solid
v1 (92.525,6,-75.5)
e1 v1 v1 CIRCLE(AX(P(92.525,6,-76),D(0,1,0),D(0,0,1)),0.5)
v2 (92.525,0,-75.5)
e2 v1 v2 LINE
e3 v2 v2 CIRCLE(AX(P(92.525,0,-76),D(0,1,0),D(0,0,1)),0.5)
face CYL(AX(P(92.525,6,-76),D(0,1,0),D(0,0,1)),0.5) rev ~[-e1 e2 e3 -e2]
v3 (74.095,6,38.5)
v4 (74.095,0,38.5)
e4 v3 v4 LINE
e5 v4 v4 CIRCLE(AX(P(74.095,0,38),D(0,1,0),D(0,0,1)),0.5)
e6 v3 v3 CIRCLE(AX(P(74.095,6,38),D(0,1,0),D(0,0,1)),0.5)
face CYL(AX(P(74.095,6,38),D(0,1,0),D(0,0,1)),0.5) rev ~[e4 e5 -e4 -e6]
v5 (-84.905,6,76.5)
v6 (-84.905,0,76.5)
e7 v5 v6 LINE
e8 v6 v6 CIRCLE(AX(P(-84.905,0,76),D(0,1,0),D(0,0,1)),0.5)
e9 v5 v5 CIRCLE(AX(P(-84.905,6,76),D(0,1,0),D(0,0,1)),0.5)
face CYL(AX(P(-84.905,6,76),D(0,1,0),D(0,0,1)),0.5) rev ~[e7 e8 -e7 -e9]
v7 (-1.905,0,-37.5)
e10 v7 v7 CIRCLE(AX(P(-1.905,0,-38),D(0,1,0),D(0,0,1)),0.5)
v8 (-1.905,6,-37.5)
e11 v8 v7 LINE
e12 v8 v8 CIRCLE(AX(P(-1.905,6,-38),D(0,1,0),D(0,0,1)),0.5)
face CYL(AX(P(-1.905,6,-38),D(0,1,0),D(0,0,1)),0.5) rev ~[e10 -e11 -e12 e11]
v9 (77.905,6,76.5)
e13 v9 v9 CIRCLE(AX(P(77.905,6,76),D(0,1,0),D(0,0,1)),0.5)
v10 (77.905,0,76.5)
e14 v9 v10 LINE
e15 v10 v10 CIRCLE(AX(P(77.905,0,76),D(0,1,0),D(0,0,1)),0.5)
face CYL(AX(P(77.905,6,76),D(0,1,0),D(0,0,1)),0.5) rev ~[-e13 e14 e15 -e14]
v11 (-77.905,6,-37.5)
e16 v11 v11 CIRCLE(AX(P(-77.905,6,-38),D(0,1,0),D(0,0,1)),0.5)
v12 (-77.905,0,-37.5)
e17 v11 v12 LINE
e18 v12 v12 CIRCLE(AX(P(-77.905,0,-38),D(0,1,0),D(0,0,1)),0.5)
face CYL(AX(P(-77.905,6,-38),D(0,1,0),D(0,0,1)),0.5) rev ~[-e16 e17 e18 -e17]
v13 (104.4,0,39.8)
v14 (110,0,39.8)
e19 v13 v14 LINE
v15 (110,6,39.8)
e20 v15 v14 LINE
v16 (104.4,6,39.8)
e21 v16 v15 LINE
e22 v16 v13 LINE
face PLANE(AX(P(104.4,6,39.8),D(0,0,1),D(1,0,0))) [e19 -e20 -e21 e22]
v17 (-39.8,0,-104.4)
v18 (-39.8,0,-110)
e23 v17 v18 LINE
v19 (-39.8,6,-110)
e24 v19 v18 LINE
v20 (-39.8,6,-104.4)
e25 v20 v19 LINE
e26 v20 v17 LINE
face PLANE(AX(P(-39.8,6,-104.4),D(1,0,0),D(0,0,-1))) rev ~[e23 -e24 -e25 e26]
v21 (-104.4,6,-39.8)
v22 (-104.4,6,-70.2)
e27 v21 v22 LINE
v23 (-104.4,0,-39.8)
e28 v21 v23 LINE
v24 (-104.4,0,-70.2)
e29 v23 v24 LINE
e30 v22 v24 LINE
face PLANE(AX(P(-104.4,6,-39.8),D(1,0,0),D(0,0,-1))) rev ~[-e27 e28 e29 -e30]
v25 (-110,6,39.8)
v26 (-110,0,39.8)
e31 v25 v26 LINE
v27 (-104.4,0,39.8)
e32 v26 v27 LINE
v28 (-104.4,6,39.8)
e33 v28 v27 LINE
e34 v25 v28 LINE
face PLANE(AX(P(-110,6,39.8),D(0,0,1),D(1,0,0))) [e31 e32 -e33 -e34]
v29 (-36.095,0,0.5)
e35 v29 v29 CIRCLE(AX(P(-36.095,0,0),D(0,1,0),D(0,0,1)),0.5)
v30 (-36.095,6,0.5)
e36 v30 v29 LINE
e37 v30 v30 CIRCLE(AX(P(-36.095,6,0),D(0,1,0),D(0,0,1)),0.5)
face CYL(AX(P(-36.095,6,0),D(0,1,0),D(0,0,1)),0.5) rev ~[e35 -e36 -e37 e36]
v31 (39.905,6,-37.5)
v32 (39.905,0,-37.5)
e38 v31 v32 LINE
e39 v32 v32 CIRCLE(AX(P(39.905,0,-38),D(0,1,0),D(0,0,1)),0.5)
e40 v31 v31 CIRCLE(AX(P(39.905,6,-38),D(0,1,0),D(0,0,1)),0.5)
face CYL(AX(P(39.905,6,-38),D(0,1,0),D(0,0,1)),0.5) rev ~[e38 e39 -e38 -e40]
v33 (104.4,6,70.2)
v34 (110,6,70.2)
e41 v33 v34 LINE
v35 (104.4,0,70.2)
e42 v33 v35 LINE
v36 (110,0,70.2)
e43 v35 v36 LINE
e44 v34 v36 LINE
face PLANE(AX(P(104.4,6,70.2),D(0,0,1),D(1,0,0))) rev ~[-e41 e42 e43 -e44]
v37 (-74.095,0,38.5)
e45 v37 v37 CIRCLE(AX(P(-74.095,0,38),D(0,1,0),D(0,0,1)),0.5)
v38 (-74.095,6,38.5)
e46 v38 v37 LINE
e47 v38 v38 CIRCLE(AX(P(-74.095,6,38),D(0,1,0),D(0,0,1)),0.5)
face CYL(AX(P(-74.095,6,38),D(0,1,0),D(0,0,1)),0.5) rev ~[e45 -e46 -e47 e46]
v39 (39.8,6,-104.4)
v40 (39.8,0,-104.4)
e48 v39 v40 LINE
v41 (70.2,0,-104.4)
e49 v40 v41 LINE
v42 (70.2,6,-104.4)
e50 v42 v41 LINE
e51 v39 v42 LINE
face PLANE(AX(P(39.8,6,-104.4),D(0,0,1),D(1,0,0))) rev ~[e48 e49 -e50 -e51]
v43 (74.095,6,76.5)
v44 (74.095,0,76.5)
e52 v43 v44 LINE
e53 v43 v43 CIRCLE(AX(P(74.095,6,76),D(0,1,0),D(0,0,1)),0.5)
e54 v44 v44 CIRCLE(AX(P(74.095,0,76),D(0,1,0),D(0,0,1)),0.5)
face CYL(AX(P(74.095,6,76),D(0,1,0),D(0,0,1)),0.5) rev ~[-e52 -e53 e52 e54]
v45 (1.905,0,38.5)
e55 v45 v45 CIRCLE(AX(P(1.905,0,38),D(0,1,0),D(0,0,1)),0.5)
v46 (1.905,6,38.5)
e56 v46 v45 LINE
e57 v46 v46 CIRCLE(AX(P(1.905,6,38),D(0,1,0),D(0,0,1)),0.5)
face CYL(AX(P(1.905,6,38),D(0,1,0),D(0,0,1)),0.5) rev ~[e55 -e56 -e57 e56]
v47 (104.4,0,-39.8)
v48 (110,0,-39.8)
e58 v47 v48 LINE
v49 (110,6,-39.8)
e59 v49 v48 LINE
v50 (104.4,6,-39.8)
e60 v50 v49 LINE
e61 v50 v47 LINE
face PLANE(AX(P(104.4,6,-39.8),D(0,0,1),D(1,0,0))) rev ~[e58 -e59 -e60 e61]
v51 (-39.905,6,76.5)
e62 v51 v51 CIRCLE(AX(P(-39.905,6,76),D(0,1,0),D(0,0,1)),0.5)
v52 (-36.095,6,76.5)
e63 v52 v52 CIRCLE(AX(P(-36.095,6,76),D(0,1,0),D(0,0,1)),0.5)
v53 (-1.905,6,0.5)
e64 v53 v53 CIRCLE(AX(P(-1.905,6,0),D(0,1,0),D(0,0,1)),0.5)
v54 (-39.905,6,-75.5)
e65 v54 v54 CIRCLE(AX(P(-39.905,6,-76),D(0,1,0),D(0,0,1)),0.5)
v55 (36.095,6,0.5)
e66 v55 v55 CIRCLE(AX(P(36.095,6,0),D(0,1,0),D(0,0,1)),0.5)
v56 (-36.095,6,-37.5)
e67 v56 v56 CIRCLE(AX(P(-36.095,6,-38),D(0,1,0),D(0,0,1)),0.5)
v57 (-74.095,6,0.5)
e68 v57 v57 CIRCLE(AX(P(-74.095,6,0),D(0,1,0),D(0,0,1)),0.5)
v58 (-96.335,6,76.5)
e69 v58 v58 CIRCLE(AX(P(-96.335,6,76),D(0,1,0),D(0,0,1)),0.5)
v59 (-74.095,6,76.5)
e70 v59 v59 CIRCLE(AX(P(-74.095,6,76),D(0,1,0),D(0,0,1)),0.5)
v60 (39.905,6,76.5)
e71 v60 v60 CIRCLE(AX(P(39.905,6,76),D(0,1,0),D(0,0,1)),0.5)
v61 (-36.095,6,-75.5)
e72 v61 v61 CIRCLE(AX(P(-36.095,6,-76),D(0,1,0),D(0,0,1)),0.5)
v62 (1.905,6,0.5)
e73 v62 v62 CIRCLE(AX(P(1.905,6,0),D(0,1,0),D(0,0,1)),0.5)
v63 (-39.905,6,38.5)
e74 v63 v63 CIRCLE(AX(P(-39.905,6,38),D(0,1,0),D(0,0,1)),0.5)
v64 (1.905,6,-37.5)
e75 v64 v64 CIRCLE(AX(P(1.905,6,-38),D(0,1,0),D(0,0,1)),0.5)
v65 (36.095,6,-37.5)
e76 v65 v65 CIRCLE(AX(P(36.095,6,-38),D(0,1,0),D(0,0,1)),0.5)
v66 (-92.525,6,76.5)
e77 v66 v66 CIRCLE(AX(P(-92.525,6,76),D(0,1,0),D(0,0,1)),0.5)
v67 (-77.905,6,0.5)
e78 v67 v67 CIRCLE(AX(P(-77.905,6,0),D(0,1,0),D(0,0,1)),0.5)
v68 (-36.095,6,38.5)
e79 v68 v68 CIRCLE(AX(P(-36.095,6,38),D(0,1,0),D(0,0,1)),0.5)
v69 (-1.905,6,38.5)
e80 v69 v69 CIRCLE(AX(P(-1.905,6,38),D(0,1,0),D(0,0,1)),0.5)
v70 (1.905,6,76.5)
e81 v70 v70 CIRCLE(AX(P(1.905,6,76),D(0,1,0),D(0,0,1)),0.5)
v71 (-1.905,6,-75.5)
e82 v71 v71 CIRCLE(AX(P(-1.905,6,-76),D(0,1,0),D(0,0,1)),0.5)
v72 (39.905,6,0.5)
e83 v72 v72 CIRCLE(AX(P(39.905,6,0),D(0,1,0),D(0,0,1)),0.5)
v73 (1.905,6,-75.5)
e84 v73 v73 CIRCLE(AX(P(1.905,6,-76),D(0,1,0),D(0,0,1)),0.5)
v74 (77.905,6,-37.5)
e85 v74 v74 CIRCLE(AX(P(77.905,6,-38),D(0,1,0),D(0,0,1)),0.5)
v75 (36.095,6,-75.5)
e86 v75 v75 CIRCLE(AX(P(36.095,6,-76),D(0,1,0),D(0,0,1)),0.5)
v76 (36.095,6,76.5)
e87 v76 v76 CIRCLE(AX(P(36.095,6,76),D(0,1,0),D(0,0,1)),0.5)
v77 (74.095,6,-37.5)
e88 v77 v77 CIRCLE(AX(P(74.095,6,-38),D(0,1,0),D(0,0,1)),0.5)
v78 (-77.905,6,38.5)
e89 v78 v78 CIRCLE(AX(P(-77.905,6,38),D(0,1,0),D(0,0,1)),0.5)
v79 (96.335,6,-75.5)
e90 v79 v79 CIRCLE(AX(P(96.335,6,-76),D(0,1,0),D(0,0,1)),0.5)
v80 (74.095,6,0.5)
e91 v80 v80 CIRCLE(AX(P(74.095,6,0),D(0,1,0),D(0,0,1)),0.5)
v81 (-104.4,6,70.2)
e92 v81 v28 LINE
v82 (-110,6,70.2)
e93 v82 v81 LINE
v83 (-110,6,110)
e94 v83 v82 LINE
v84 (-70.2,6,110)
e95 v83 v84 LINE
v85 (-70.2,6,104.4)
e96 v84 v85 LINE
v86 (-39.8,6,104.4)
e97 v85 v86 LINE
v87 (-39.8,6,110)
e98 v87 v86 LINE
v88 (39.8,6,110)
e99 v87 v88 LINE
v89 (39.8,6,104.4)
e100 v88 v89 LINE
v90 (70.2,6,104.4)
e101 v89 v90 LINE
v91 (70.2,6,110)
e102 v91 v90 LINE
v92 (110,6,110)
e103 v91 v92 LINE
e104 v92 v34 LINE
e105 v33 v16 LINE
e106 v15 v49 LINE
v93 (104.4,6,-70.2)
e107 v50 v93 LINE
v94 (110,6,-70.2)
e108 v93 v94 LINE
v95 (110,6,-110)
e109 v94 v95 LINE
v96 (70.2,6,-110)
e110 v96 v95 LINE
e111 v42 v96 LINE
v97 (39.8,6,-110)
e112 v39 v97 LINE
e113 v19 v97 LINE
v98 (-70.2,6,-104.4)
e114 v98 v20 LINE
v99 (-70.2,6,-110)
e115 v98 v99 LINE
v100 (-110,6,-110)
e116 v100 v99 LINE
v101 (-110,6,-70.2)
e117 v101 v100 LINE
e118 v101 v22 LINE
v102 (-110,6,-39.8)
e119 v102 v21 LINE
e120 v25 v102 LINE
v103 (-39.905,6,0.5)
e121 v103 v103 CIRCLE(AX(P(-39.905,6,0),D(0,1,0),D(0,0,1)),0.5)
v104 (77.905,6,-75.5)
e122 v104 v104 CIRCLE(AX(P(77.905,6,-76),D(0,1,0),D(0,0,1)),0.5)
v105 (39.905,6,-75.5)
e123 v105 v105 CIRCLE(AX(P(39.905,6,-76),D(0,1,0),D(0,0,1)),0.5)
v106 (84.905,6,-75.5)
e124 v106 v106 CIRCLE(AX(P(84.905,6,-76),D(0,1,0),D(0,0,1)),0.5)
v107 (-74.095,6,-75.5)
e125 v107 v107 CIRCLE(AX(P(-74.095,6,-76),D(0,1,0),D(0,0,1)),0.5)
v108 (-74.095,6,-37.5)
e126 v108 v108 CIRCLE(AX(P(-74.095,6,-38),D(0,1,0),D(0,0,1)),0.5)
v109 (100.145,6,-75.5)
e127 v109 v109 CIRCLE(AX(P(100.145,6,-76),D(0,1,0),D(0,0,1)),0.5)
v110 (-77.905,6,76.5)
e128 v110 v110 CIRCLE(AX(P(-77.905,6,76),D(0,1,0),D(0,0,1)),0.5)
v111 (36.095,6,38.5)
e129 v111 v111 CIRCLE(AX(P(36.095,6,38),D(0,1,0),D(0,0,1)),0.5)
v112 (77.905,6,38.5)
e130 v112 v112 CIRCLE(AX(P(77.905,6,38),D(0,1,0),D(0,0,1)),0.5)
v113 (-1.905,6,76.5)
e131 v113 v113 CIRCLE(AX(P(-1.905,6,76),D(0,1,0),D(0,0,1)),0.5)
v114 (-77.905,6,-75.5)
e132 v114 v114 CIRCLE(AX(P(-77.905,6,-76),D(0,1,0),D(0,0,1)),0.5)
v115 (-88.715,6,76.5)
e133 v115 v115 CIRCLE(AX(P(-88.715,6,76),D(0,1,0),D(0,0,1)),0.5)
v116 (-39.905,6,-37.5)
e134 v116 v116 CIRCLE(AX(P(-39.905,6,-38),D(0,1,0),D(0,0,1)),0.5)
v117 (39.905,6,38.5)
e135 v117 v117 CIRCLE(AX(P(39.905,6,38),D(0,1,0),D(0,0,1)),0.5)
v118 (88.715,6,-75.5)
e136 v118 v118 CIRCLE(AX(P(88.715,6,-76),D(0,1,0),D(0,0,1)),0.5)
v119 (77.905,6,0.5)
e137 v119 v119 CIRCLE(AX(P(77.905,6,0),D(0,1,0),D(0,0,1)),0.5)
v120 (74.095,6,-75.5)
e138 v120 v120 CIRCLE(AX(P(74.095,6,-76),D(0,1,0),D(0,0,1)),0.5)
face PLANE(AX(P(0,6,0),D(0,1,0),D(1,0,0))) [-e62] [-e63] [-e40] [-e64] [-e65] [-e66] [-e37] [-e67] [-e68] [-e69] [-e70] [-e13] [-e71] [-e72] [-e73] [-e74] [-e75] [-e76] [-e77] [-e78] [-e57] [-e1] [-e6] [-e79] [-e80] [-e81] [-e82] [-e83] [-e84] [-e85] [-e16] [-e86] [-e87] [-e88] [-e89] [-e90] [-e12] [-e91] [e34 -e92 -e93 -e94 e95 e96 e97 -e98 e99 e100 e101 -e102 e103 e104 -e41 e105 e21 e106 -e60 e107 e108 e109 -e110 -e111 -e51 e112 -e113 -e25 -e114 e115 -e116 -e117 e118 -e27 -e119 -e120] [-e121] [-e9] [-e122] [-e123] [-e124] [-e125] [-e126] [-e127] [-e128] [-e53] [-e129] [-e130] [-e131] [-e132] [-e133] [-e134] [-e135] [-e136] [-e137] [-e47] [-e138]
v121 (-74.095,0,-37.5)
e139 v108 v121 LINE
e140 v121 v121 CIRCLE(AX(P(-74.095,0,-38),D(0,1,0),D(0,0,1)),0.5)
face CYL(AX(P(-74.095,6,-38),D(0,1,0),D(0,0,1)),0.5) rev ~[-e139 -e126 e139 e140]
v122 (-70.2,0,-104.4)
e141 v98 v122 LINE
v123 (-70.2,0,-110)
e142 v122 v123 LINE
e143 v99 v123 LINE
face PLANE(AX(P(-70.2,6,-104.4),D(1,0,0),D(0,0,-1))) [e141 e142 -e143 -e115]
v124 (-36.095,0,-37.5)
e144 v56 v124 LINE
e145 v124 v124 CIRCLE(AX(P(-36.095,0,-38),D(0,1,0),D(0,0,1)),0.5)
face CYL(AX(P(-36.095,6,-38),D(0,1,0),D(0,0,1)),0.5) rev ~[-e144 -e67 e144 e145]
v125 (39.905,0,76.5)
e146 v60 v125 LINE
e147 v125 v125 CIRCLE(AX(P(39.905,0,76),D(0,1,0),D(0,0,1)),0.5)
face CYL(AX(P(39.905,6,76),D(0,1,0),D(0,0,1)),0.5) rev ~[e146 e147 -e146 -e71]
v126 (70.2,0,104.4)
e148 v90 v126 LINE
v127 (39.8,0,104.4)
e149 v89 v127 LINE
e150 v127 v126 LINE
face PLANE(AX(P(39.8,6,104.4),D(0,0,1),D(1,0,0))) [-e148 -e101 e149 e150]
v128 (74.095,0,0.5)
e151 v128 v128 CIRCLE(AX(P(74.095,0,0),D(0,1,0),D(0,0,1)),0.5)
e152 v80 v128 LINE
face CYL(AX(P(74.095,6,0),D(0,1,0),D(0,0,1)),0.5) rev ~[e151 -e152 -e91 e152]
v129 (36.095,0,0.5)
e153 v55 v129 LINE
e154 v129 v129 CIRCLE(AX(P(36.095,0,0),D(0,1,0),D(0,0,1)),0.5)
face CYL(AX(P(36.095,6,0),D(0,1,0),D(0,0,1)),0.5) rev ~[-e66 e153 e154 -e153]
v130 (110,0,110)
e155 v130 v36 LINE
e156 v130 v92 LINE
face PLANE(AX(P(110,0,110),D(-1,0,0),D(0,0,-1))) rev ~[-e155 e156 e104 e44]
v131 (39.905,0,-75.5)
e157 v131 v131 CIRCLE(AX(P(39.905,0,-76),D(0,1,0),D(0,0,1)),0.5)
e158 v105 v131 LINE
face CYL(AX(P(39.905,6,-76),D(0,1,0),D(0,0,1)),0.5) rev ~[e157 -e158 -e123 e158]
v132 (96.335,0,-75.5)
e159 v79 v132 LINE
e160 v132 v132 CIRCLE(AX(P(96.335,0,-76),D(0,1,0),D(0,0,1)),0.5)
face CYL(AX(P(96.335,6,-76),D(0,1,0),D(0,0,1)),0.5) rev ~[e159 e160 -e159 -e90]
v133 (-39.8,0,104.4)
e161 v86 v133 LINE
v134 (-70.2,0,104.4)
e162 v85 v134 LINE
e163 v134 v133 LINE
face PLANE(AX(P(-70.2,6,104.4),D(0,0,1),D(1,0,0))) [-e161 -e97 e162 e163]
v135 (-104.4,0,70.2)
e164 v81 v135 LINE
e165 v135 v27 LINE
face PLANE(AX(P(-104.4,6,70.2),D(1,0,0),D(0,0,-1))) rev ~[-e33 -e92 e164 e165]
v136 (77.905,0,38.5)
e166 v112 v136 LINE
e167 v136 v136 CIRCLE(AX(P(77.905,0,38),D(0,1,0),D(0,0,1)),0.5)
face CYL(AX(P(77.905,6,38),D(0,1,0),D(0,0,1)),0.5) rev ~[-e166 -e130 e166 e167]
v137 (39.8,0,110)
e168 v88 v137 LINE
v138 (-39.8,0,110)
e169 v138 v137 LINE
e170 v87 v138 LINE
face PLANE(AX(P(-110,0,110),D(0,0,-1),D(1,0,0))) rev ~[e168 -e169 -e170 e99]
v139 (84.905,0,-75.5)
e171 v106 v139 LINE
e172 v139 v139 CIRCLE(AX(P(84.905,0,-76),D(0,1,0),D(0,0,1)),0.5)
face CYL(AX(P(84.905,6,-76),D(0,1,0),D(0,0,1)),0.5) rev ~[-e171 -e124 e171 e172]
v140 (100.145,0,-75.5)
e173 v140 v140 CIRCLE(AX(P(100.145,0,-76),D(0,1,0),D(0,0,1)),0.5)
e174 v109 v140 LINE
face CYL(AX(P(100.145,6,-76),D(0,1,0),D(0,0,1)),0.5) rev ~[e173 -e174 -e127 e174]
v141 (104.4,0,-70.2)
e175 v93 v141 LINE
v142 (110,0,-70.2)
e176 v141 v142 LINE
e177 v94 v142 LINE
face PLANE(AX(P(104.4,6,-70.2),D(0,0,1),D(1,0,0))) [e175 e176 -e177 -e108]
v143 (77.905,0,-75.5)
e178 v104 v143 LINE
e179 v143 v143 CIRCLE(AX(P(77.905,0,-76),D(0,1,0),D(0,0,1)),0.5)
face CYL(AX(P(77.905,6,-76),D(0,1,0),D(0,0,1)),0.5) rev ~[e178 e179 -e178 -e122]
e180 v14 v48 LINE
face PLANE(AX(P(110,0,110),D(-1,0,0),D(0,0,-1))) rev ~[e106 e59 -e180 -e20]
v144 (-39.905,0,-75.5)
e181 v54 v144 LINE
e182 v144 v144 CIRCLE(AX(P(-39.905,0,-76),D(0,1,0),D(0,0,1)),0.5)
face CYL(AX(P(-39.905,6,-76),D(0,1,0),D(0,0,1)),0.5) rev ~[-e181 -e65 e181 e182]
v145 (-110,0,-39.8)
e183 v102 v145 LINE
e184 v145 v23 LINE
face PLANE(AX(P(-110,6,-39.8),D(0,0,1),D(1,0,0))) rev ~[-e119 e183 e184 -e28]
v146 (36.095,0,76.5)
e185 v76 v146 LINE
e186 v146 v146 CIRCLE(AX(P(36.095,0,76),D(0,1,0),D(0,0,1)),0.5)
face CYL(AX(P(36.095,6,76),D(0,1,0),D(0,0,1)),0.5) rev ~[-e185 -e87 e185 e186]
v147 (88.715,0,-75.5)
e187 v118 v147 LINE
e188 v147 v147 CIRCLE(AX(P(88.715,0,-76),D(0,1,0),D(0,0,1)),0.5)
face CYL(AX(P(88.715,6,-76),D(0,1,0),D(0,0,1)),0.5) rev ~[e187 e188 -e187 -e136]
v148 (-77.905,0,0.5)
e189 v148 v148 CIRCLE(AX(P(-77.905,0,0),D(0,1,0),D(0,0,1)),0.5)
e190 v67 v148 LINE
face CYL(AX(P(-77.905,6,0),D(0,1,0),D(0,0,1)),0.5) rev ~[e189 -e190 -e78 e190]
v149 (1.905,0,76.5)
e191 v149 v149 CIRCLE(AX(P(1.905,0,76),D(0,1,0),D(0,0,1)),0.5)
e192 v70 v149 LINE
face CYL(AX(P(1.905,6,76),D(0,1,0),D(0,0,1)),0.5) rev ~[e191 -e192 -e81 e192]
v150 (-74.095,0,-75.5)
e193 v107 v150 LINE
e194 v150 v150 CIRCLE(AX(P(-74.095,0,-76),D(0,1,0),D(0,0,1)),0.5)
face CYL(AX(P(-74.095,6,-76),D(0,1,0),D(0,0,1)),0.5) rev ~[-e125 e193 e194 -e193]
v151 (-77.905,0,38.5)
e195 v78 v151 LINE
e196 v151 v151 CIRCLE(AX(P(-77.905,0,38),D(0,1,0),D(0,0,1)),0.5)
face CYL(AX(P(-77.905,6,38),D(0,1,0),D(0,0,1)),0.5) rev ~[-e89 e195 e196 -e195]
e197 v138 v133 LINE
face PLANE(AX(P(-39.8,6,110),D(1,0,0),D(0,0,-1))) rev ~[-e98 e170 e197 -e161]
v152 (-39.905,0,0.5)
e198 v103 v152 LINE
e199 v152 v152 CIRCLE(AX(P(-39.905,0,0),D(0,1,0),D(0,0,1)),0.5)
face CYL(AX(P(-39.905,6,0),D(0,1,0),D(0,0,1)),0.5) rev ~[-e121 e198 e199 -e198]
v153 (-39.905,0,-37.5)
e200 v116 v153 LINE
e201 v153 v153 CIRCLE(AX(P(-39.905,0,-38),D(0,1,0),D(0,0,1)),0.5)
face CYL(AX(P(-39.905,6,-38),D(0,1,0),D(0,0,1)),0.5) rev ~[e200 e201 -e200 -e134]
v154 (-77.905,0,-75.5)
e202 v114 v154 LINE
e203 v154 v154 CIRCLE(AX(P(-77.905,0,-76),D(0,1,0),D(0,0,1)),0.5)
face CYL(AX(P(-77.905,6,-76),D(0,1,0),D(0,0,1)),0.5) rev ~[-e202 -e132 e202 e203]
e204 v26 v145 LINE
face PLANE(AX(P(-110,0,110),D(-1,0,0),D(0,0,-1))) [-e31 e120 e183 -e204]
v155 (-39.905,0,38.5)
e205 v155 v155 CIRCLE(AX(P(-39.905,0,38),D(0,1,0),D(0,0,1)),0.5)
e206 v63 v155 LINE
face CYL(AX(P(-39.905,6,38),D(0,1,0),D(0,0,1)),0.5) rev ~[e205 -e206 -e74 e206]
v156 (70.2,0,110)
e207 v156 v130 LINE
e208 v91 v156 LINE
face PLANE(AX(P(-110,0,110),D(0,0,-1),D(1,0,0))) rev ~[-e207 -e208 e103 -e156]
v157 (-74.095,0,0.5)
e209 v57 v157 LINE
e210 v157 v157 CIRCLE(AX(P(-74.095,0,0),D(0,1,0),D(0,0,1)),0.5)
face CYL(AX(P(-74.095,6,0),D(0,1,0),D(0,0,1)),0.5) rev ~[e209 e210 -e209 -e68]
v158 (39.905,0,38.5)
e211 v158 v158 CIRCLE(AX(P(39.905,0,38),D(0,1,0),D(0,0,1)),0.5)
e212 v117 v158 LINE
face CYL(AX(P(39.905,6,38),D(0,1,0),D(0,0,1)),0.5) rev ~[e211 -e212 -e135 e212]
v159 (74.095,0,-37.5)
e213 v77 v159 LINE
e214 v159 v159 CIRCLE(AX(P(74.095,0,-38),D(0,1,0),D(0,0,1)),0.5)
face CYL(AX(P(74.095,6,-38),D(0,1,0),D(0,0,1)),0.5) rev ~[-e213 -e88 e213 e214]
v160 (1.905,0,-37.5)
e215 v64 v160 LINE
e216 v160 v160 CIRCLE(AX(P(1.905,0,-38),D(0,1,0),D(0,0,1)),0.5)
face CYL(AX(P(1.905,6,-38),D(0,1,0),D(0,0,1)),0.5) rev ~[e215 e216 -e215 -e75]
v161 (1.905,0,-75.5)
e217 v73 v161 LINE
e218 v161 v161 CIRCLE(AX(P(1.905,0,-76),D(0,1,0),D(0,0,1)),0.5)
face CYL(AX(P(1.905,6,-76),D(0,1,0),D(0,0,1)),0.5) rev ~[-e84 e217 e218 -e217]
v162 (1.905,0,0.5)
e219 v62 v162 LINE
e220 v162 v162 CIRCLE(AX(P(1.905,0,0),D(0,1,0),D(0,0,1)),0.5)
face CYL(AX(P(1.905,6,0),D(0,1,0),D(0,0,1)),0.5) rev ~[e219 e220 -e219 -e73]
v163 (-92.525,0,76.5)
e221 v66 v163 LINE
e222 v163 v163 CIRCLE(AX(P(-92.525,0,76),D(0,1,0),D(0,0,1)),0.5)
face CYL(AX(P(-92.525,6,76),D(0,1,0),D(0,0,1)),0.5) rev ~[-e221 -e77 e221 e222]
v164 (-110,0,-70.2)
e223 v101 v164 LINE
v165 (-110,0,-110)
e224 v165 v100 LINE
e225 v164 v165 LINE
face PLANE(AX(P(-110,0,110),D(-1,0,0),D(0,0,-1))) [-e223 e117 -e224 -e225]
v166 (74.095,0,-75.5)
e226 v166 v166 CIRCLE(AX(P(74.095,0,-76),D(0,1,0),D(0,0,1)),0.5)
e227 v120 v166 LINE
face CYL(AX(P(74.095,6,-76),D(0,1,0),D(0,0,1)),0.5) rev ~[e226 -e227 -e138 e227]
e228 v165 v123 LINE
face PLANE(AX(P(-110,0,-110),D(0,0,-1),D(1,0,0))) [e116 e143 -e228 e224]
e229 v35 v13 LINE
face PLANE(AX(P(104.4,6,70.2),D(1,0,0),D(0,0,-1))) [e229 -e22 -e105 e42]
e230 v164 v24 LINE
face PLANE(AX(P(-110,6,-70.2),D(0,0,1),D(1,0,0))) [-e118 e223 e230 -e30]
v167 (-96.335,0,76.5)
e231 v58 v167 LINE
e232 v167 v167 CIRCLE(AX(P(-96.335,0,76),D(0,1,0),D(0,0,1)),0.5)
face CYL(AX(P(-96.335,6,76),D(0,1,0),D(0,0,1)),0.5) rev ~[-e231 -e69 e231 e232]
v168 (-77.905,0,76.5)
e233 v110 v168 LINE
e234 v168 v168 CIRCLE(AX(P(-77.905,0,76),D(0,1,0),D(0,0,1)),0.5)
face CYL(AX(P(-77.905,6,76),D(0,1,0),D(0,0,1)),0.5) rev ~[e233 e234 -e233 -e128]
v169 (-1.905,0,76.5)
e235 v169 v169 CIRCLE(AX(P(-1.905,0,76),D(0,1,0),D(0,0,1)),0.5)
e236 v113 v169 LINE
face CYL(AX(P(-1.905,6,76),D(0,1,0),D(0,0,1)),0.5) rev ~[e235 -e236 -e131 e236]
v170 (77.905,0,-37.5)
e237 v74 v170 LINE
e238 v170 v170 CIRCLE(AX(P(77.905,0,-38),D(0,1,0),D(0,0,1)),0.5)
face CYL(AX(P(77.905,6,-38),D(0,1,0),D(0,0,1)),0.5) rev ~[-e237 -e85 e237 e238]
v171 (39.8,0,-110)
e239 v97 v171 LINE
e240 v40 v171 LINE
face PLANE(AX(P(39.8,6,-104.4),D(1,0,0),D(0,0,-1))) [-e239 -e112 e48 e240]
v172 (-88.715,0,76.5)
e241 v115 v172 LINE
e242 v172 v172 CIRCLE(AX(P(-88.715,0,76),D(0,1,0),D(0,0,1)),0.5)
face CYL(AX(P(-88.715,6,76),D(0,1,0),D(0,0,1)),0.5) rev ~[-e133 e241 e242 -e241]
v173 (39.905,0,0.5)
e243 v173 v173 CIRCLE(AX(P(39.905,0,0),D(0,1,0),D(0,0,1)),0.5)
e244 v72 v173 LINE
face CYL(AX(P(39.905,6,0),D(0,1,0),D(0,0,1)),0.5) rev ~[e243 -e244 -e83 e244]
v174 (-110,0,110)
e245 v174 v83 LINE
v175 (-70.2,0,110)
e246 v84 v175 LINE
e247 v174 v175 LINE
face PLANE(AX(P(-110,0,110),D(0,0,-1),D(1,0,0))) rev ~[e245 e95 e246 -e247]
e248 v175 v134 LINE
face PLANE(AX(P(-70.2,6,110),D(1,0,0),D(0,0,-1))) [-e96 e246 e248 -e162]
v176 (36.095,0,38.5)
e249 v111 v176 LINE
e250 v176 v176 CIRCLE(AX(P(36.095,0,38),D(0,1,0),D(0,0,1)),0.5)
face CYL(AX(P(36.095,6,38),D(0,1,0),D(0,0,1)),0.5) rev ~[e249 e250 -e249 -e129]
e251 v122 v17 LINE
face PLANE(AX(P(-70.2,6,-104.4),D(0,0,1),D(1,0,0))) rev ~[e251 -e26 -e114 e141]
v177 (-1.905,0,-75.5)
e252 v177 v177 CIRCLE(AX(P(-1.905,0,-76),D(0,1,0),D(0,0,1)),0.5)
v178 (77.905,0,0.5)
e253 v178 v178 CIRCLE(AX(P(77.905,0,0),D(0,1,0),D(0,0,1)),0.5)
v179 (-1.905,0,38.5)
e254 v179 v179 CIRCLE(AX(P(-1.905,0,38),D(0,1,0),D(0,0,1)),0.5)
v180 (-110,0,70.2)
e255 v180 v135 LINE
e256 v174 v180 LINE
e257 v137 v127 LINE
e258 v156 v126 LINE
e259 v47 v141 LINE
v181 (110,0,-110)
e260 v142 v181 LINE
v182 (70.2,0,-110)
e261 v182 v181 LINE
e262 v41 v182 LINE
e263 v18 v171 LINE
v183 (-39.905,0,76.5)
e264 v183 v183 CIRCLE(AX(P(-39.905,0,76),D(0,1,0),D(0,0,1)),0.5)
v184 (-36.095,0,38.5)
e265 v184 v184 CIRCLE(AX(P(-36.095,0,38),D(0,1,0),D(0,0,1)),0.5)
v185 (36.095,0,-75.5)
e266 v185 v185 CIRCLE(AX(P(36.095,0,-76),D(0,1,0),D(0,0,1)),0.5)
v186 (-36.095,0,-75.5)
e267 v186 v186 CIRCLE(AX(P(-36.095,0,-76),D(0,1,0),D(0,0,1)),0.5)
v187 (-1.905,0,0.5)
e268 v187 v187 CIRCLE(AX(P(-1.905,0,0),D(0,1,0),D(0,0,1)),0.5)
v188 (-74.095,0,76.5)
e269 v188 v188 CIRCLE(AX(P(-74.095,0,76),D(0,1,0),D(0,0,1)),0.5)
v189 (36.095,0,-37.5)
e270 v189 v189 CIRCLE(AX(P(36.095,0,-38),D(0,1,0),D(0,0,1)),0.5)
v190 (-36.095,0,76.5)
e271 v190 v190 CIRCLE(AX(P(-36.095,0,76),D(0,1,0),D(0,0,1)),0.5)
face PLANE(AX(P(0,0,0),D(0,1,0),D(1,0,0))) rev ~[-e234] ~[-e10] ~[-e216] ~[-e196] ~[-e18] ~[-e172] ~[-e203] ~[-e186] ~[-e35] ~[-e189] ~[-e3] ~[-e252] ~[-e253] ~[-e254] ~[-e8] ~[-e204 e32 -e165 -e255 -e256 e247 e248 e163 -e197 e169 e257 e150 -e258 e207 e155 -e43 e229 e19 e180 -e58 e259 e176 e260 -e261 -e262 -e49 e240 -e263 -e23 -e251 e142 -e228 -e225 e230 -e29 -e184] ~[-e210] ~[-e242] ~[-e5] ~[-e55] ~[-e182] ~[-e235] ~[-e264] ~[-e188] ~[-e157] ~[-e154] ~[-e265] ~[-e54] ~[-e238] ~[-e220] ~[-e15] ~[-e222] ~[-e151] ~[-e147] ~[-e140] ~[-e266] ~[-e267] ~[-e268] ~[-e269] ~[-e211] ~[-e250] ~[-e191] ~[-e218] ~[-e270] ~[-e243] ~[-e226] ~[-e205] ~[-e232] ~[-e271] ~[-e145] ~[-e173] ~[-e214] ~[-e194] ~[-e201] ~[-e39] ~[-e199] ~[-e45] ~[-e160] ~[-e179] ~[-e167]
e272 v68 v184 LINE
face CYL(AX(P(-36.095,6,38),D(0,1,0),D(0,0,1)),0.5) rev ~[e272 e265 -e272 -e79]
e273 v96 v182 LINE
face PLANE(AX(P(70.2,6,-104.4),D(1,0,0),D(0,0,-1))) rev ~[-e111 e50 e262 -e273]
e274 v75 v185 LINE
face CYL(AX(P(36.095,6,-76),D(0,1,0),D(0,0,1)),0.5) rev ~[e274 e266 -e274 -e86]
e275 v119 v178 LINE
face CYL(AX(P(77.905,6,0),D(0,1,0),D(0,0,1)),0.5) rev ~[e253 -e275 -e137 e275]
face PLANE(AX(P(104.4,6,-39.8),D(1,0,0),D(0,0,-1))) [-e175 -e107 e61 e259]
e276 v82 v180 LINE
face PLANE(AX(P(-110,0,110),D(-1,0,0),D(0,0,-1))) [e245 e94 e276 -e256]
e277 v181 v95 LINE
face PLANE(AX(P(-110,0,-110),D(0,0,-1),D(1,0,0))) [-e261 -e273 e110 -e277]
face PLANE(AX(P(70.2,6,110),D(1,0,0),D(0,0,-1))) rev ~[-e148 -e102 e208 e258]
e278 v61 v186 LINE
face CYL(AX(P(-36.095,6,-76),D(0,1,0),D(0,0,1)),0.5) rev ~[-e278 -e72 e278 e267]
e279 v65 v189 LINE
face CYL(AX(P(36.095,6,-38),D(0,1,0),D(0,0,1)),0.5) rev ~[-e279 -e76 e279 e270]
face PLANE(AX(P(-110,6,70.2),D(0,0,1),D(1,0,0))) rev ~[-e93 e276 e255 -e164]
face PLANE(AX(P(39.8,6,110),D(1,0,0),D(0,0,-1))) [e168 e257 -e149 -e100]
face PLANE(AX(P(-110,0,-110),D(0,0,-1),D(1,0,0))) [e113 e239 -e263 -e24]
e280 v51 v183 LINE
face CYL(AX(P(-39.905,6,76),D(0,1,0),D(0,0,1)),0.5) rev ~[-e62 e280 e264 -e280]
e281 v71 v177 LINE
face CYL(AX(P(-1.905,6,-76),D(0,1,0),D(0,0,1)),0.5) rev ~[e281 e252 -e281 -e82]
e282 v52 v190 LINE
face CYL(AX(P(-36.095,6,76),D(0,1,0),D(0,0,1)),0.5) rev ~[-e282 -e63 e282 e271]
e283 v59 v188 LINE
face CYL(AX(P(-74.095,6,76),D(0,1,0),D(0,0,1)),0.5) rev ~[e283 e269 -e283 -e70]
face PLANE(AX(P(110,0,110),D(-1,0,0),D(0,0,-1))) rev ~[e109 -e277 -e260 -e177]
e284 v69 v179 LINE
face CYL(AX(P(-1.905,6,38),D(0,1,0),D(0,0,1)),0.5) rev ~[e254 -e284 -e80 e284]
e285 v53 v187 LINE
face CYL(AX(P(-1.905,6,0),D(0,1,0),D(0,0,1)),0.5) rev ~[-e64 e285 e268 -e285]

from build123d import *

# Parameters (mm, degrees)
SKETCH2_W           = 220
SKETCH2_H           = 220
BOSS_EXTRUDE1_DEPTH = 6
SKETCH3_R           = 0.5
CUT_EXTRUDE1_DEPTH  = 156.679157243
SKETCH4_R           = 0.5
CUT_EXTRUDE2_DEPTH  = 156.679157243
SKETCH5_W           = 30.4
SKETCH5_H           = 5.6
SKETCH5_W_2         = 5.6
SKETCH5_H_2         = 30.4
CUT_EXTRUDE3_DEPTH  = 156.679157243


with BuildPart() as part:
    # Sketch2 → Boss-Extrude1 (new body)
    with BuildSketch(Plane(origin=(0, 0, 0), x_dir=(1, 0, 0), z_dir=(0, 1, 0))):
        Rectangle(SKETCH2_W, SKETCH2_H)
    extrude(amount=BOSS_EXTRUDE1_DEPTH)

    # Sketch3 → Cut-Extrude1 (cut, through all)
    with BuildSketch(Plane(origin=(0, 6, 0), x_dir=(1, 0, 0), z_dir=(0, 1, 0))):
        with Locations(Location((-77.905, -76, 0), (0, 0, 270))):
            Circle(SKETCH3_R)
        with Locations(Location((-74.095, -76, 0), (0, 0, 270))):
            Circle(SKETCH3_R)
        with Locations(Location((-39.905, -76, 0), (0, 0, 270))):
            Circle(SKETCH3_R)
        with Locations(Location((-36.095, -76, 0), (0, 0, 270))):
            Circle(SKETCH3_R)
        with Locations(Location((-1.905, -76, 0), (0, 0, 270))):
            Circle(SKETCH3_R)
        with Locations(Location((1.905, -76, 0), (0, 0, 270))):
            Circle(SKETCH3_R)
        with Locations(Location((36.095, -76, 0), (0, 0, 270))):
            Circle(SKETCH3_R)
        with Locations(Location((39.905, -76, 0), (0, 0, 270))):
            Circle(SKETCH3_R)
        with Locations(Location((74.095, -76, 0), (0, 0, 270))):
            Circle(SKETCH3_R)
        with Locations(Location((77.905, -76, 0), (0, 0, 270))):
            Circle(SKETCH3_R)
        with Locations(Location((-39.905, -38, 0), (0, 0, 270))):
            Circle(SKETCH3_R)
        with Locations(Location((-36.095, -38, 0), (0, 0, 270))):
            Circle(SKETCH3_R)
        with Locations(Location((-1.905, -38, 0), (0, 0, 270))):
            Circle(SKETCH3_R)
        with Locations(Location((1.905, -38, 0), (0, 0, 270))):
            Circle(SKETCH3_R)
        with Locations(Location((36.095, -38, 0), (0, 0, 270))):
            Circle(SKETCH3_R)
        with Locations(Location((39.905, -38, 0), (0, 0, 270))):
            Circle(SKETCH3_R)
        with Locations(Location((74.095, -38, 0), (0, 0, 270))):
            Circle(SKETCH3_R)
        with Locations(Location((77.905, -38, 0), (0, 0, 270))):
            Circle(SKETCH3_R)
        with Locations(Location((-39.905, 0, 0), (0, 0, 270))):
            Circle(SKETCH3_R)
        with Locations(Location((-36.095, 0, 0), (0, 0, 270))):
            Circle(SKETCH3_R)
        with Locations(Location((-1.905, 0, 0), (0, 0, 270))):
            Circle(SKETCH3_R)
        with Locations(Location((1.905, 0, 0), (0, 0, 270))):
            Circle(SKETCH3_R)
        with Locations(Location((36.095, 0, 0), (0, 0, 270))):
            Circle(SKETCH3_R)
        with Locations(Location((39.905, 0, 0), (0, 0, 270))):
            Circle(SKETCH3_R)
        with Locations(Location((74.095, 0, 0), (0, 0, 270))):
            Circle(SKETCH3_R)
        with Locations(Location((77.905, 0, 0), (0, 0, 270))):
            Circle(SKETCH3_R)
        with Locations(Location((-39.905, 38, 0), (0, 0, 270))):
            Circle(SKETCH3_R)
        with Locations(Location((-36.095, 38, 0), (0, 0, 270))):
            Circle(SKETCH3_R)
        with Locations(Location((-1.905, 38, 0), (0, 0, 270))):
            Circle(SKETCH3_R)
        with Locations(Location((1.905, 38, 0), (0, 0, 270))):
            Circle(SKETCH3_R)
        with Locations(Location((36.095, 38, 0), (0, 0, 270))):
            Circle(SKETCH3_R)
        with Locations(Location((39.905, 38, 0), (0, 0, 270))):
            Circle(SKETCH3_R)
        with Locations(Location((74.095, 38, 0), (0, 0, 270))):
            Circle(SKETCH3_R)
        with Locations(Location((77.905, 38, 0), (0, 0, 270))):
            Circle(SKETCH3_R)
        with Locations(Location((-39.905, 76, 0), (0, 0, 270))):
            Circle(SKETCH3_R)
        with Locations(Location((-36.095, 76, 0), (0, 0, 270))):
            Circle(SKETCH3_R)
        with Locations(Location((-1.905, 76, 0), (0, 0, 270))):
            Circle(SKETCH3_R)
        with Locations(Location((1.905, 76, 0), (0, 0, 270))):
            Circle(SKETCH3_R)
        with Locations(Location((36.095, 76, 0), (0, 0, 270))):
            Circle(SKETCH3_R)
        with Locations(Location((39.905, 76, 0), (0, 0, 270))):
            Circle(SKETCH3_R)
        with Locations(Location((74.095, 76, 0), (0, 0, 270))):
            Circle(SKETCH3_R)
        with Locations(Location((77.905, 76, 0), (0, 0, 270))):
            Circle(SKETCH3_R)
        with Locations(Location((-77.905, -38, 0), (0, 0, 270))):
            Circle(SKETCH3_R)
        with Locations(Location((-74.095, -38, 0), (0, 0, 270))):
            Circle(SKETCH3_R)
        with Locations(Location((-77.905, 0, 0), (0, 0, 270))):
            Circle(SKETCH3_R)
        with Locations(Location((-74.095, 0, 0), (0, 0, 270))):
            Circle(SKETCH3_R)
        with Locations(Location((-77.905, 38, 0), (0, 0, 270))):
            Circle(SKETCH3_R)
        with Locations(Location((-74.095, 38, 0), (0, 0, 270))):
            Circle(SKETCH3_R)
        with Locations(Location((-77.905, 76, 0), (0, 0, 270))):
            Circle(SKETCH3_R)
        with Locations(Location((-74.095, 76, 0), (0, 0, 270))):
            Circle(SKETCH3_R)
    extrude(amount=-CUT_EXTRUDE1_DEPTH, mode=Mode.SUBTRACT)

    # Sketch4 → Cut-Extrude2 (cut, through all)
    with BuildSketch(Plane(origin=(0, 6, 0), x_dir=(1, 0, 0), z_dir=(0, 1, 0))):
        with Locations(Location((84.905, 76, 0), (0, 0, 270))):
            Circle(SKETCH4_R)
        with Locations(Location((88.715, 76, 0), (0, 0, 270))):
            Circle(SKETCH4_R)
        with Locations(Location((92.525, 76, 0), (0, 0, 270))):
            Circle(SKETCH4_R)
        with Locations(Location((96.335, 76, 0), (0, 0, 270))):
            Circle(SKETCH4_R)
        with Locations(Location((100.145, 76, 0), (0, 0, 270))):
            Circle(SKETCH4_R)
        with Locations(Location((-84.905, -76, 0), (0, 0, 270))):
            Circle(SKETCH4_R)
        with Locations(Location((-88.715, -76, 0), (0, 0, 270))):
            Circle(SKETCH4_R)
        with Locations(Location((-92.525, -76, 0), (0, 0, 270))):
            Circle(SKETCH4_R)
        with Locations(Location((-96.335, -76, 0), (0, 0, 270))):
            Circle(SKETCH4_R)
    extrude(amount=-CUT_EXTRUDE2_DEPTH, mode=Mode.SUBTRACT)

    # Sketch5 → Cut-Extrude3 (cut, through all)
    with BuildSketch(Plane(origin=(0, 6, 0), x_dir=(1, 0, 0), z_dir=(0, 1, 0))):
        with Locations((-55, 107.2)):
            Rectangle(SKETCH5_W, SKETCH5_H)
        with Locations((-107.2, -55)):
            Rectangle(SKETCH5_W_2, SKETCH5_H_2)
        with Locations((55, 107.2)):
            Rectangle(SKETCH5_W, SKETCH5_H)
        with Locations((55, -107.2)):
            Rectangle(SKETCH5_W, SKETCH5_H)
        with Locations((-55, -107.2)):
            Rectangle(SKETCH5_W, SKETCH5_H)
        with Locations((-107.2, 55)):
            Rectangle(SKETCH5_W_2, SKETCH5_H_2)
        with Locations((107.2, -55)):
            Rectangle(SKETCH5_W_2, SKETCH5_H_2)
        with Locations((107.2, 55)):
            Rectangle(SKETCH5_W_2, SKETCH5_H_2)
    extrude(amount=-CUT_EXTRUDE3_DEPTH, mode=Mode.SUBTRACT)


solid = part.part
